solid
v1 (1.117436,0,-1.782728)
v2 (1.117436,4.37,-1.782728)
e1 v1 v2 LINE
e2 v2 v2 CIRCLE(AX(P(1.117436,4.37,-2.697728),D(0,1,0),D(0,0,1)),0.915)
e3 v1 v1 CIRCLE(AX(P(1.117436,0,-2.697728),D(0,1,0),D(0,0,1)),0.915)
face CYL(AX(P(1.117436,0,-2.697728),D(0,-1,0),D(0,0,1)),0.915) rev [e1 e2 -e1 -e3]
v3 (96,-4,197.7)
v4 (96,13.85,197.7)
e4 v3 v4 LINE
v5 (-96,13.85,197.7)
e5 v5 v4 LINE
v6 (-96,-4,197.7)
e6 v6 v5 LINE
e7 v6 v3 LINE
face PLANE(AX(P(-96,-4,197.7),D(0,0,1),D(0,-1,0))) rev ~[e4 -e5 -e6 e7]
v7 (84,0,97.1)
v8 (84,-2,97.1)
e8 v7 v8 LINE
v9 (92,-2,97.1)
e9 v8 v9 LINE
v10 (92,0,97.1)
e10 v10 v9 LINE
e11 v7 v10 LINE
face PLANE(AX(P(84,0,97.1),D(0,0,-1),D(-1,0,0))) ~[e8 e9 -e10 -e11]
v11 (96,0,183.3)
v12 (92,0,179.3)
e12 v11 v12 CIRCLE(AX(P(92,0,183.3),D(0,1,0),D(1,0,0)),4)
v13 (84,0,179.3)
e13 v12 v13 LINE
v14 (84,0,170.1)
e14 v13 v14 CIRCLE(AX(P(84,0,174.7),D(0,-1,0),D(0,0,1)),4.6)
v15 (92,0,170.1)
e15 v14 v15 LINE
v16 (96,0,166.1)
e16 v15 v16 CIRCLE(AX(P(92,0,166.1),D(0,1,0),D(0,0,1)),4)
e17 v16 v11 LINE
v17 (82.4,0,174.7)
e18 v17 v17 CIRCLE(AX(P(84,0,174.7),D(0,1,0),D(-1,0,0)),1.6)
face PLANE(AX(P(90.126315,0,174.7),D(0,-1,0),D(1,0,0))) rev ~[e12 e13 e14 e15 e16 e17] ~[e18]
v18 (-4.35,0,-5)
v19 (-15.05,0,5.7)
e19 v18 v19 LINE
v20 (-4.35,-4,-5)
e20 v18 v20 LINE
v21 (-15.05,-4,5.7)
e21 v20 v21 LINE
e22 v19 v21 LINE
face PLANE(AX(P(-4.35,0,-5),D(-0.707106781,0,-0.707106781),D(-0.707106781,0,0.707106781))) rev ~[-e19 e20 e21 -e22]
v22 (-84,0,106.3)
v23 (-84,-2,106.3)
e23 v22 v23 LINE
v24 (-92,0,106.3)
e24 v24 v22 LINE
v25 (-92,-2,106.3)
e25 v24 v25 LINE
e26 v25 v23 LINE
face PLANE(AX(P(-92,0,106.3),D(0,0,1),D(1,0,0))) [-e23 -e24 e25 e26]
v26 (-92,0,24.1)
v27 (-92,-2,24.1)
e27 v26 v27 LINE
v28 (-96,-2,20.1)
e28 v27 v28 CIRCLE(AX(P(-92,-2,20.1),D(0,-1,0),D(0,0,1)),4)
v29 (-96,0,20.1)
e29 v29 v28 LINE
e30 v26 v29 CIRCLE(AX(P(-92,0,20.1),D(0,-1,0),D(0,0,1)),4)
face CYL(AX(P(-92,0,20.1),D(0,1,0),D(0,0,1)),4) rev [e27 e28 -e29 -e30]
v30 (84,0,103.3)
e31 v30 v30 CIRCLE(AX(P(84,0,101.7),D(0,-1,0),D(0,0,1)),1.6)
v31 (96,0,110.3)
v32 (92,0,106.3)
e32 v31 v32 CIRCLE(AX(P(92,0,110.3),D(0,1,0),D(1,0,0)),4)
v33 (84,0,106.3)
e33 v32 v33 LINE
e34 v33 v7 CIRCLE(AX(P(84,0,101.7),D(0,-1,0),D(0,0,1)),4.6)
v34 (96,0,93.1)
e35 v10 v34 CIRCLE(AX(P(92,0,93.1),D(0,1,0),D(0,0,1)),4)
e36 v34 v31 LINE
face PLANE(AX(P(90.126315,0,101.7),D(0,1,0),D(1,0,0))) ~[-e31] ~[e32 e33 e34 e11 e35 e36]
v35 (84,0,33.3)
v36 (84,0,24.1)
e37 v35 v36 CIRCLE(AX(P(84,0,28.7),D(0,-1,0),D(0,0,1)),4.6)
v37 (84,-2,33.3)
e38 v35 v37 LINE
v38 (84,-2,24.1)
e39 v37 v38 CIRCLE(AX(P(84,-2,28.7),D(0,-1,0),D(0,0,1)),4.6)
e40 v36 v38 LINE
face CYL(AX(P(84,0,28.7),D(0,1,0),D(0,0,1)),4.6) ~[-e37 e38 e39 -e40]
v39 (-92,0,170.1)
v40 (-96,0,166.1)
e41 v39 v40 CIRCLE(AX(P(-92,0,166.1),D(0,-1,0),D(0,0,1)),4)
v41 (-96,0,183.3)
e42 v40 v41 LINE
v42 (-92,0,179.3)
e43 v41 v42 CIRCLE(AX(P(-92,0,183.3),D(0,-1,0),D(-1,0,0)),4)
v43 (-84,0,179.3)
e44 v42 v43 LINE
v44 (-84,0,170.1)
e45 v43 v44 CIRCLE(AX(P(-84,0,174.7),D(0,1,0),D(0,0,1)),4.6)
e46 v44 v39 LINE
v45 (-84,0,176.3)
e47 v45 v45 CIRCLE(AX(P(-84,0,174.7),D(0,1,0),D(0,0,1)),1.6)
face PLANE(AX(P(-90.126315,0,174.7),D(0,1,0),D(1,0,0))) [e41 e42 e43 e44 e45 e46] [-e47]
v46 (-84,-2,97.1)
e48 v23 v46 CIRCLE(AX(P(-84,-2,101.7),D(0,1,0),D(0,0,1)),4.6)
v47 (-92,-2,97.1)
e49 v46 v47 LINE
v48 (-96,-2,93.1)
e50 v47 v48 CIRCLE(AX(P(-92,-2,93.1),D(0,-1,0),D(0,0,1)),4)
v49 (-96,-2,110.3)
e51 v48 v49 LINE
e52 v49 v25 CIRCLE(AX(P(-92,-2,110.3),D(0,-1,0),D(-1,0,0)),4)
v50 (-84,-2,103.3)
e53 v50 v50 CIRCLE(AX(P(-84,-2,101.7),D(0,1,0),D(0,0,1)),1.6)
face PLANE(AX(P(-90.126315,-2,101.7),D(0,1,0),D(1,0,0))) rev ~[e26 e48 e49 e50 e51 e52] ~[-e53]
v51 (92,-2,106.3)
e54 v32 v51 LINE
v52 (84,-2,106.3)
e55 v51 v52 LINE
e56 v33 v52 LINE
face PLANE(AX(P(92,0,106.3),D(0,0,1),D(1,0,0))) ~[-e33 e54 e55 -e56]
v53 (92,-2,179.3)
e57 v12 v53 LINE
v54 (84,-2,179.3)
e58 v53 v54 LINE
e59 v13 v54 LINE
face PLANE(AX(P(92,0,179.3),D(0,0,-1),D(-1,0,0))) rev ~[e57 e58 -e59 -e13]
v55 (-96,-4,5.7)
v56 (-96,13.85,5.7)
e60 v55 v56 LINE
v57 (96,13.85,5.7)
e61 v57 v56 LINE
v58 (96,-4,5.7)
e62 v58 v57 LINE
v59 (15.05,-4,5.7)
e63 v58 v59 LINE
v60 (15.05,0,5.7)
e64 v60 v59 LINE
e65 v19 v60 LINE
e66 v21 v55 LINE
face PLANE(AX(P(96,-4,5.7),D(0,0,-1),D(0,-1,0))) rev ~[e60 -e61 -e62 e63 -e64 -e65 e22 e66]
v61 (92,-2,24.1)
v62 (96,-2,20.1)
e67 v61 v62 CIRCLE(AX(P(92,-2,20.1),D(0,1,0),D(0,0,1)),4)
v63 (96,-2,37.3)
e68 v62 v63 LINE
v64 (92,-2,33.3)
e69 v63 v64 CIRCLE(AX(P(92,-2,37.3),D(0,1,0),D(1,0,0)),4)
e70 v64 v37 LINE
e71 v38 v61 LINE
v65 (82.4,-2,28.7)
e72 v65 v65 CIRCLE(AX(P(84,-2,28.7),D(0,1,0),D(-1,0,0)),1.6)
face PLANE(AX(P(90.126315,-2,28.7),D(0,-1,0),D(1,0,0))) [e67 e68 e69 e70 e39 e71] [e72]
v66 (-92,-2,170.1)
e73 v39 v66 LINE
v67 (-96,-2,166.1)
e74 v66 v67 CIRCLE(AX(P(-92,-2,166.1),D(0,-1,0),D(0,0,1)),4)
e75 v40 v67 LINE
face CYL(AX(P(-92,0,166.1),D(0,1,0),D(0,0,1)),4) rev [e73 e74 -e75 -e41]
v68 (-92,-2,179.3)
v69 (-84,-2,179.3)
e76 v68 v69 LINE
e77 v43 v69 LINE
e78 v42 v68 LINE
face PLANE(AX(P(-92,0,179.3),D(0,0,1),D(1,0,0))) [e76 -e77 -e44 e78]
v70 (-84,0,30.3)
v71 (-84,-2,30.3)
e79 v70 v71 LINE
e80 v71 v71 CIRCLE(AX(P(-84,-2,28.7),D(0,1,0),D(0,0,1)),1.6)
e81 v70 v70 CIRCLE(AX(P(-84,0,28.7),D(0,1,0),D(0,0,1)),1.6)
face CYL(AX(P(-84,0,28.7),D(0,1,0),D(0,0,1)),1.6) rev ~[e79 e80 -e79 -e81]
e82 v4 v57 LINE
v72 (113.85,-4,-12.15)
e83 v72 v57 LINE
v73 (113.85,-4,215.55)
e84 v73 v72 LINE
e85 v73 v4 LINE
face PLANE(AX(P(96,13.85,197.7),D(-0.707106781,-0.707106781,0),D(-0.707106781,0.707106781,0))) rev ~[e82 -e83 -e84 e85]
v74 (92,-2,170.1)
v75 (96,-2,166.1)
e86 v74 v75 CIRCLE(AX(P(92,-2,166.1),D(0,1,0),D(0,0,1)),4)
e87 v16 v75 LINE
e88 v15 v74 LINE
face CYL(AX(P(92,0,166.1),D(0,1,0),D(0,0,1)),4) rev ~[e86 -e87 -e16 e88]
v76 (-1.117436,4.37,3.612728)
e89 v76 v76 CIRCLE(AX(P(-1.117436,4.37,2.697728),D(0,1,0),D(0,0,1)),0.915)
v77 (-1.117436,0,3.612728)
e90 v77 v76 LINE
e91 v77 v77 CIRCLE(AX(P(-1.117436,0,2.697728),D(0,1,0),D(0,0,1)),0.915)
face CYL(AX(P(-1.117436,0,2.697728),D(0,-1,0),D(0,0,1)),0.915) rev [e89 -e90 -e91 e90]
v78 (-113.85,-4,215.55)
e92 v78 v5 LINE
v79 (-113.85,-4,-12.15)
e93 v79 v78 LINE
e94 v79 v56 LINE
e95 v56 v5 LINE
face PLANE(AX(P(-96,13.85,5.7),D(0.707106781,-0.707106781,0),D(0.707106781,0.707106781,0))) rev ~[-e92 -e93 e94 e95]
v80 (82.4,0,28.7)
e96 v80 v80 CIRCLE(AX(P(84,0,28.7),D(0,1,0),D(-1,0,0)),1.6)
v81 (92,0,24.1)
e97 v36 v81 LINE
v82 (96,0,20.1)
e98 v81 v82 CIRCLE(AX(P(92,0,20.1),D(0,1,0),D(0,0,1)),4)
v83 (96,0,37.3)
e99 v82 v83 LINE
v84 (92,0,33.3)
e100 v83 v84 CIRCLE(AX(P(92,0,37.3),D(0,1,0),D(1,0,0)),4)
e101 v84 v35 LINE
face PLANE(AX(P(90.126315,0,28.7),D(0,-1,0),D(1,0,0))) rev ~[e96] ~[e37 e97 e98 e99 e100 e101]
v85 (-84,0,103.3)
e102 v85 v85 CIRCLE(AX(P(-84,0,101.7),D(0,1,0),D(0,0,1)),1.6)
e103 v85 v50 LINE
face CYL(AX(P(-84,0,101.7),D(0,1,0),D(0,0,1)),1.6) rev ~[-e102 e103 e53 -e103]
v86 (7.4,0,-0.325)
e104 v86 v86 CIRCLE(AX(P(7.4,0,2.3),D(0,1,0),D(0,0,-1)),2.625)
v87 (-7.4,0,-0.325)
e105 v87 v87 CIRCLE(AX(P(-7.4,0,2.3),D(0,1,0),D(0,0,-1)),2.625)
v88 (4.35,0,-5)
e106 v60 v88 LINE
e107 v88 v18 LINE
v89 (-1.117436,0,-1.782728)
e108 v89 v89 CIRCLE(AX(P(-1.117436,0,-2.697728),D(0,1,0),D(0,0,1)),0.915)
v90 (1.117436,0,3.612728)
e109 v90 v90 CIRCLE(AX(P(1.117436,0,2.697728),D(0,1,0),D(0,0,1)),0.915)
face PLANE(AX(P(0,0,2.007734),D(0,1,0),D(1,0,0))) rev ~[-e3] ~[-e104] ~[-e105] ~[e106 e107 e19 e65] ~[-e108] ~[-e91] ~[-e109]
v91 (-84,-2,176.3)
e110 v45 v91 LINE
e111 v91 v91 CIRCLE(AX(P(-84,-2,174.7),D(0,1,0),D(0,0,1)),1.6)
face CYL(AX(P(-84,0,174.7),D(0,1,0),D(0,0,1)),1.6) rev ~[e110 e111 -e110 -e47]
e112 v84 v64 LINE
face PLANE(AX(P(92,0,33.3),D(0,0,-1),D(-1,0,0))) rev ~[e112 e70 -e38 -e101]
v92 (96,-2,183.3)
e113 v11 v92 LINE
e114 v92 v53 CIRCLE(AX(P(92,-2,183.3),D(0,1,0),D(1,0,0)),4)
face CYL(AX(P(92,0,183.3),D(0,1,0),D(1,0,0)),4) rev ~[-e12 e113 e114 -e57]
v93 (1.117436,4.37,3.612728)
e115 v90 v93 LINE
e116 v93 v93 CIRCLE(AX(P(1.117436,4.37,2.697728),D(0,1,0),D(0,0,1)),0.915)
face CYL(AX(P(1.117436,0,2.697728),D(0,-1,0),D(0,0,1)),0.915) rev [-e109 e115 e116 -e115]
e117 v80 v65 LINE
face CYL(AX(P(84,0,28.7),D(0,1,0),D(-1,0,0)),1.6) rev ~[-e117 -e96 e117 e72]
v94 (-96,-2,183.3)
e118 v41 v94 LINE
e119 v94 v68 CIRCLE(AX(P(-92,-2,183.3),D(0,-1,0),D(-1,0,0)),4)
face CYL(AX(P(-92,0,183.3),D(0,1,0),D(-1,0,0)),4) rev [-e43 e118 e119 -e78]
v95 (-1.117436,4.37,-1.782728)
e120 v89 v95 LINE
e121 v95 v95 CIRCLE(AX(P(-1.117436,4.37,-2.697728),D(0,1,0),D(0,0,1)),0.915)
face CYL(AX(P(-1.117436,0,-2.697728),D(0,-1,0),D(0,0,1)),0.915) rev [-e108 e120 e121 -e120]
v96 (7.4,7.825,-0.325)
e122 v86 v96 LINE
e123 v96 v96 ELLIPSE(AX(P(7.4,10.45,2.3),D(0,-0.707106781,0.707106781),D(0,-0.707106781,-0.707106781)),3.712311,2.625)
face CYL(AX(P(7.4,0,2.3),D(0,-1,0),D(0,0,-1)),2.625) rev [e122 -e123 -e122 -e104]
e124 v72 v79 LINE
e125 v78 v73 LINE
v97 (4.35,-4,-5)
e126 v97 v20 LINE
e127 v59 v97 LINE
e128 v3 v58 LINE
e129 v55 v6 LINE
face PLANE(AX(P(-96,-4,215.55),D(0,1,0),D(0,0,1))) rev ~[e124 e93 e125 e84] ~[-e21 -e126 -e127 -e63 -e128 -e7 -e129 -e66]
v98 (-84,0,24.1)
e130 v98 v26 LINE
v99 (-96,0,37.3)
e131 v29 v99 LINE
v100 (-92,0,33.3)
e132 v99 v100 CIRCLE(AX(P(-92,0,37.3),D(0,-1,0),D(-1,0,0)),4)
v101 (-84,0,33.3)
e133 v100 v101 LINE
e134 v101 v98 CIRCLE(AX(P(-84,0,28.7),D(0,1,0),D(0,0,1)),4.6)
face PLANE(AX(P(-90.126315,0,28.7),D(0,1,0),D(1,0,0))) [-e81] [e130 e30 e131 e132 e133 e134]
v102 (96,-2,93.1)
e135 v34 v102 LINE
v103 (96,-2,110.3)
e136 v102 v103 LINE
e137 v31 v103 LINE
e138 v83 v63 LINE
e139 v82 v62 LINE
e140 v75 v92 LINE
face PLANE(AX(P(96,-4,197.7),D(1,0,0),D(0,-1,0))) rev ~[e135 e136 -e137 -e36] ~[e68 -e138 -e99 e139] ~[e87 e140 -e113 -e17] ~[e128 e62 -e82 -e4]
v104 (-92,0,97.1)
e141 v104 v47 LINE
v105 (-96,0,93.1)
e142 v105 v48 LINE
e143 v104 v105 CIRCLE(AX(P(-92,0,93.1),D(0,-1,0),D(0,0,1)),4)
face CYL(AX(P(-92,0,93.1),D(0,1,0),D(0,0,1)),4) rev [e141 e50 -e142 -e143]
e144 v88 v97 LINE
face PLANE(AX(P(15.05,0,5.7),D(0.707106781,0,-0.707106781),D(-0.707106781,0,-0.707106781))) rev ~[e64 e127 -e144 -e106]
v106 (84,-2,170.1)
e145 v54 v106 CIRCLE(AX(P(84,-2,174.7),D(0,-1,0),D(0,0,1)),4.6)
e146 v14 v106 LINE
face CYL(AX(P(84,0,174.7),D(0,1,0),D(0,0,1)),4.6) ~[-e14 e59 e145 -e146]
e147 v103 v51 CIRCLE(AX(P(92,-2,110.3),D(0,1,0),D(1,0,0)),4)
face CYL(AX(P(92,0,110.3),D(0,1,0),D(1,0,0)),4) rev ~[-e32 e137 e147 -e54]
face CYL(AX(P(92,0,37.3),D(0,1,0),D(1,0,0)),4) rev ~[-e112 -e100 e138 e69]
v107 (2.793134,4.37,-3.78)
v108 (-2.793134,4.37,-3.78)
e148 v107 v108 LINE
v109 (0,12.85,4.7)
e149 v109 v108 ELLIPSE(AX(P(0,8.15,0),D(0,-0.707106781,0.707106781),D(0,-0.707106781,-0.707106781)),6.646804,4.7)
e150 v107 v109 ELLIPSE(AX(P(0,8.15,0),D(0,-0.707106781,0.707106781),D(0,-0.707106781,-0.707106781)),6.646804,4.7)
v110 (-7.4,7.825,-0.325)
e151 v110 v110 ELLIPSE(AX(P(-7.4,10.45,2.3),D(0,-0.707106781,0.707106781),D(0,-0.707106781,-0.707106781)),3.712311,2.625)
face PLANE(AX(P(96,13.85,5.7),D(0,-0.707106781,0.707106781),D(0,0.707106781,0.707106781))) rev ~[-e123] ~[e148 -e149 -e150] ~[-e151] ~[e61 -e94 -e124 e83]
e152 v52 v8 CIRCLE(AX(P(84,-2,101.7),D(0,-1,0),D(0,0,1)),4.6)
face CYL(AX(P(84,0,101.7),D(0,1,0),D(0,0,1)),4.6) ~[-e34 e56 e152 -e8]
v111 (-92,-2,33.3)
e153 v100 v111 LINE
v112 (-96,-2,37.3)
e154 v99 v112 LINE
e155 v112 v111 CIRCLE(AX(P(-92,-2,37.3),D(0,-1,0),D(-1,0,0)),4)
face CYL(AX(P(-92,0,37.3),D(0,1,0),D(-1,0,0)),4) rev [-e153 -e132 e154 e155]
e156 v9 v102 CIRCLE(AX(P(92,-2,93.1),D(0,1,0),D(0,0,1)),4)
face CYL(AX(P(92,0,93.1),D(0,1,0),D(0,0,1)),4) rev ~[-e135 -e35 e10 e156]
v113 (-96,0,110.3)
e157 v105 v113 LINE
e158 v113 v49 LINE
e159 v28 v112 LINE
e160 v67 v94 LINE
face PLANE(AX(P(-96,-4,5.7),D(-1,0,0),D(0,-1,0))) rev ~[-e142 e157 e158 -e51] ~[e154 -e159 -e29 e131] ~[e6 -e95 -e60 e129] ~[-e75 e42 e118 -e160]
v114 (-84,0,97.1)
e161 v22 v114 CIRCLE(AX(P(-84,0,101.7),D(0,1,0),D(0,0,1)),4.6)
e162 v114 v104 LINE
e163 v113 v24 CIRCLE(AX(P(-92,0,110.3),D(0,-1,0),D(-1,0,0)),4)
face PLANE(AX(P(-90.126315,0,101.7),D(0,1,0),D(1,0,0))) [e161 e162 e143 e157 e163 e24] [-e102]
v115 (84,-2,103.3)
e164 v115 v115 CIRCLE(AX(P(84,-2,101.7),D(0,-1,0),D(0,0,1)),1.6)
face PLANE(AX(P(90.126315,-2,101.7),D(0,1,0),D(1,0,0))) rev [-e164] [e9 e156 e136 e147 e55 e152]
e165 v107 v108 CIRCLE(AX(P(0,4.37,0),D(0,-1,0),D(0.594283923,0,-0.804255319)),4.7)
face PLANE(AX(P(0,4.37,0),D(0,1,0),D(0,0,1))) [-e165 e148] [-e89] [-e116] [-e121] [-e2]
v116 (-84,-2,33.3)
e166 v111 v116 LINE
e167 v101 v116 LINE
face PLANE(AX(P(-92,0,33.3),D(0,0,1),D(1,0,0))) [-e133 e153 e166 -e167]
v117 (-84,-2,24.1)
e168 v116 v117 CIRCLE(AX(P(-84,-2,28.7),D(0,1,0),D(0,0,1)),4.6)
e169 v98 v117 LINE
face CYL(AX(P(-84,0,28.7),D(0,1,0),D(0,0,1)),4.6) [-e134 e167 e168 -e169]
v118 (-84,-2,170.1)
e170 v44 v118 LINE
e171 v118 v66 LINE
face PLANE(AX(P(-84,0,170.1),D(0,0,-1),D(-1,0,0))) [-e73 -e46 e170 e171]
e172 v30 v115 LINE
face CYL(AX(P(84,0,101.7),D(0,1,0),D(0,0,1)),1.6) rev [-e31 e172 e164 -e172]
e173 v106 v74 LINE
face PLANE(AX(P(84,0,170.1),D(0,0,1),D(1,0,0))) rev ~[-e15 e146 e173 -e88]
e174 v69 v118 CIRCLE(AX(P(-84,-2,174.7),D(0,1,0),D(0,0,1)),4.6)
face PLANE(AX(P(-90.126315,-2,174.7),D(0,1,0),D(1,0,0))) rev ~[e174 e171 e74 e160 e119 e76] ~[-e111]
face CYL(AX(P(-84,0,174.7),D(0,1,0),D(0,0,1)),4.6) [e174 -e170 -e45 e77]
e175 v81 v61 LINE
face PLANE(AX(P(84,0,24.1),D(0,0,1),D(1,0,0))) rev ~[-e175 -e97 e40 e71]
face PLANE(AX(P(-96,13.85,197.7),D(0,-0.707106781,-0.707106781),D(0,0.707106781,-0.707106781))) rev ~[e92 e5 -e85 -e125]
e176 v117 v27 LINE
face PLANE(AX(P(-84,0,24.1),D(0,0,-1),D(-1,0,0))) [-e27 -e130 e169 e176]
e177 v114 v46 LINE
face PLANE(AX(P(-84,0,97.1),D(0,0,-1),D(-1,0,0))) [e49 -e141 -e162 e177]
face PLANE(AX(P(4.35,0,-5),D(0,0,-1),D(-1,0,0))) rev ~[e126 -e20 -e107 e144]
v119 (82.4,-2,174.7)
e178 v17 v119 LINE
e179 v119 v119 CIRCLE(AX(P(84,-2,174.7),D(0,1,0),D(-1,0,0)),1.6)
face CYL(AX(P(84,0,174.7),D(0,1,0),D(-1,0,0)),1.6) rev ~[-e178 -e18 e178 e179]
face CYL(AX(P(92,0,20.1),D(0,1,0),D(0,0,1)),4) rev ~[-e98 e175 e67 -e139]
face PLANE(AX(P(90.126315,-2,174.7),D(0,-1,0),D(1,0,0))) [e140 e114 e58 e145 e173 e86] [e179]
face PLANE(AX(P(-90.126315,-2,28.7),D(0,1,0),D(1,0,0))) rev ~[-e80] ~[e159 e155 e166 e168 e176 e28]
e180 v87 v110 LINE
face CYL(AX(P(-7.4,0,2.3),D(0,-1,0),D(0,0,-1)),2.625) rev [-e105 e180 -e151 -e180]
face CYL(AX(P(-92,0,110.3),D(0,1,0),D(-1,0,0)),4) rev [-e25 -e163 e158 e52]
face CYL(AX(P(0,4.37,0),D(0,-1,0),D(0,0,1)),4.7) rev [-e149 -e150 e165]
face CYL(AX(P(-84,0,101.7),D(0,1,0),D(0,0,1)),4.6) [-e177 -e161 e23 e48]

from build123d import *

# Parameters (mm, degrees)
SKETCH1_R               = 0.915
BOSS_EXTRUDE1_DEPTH     = 4.37
BOSS_EXTRUDE1_2_DEPTH   = 4.37
BOSS_EXTRUDE1_3_DEPTH   = 4.37
BOSS_EXTRUDE1_4_DEPTH   = 4.37
BOSS_EXTRUDE2_START     = 4.37
SKETCH1_3_R             = 4.7
SKETCH1_3_R_2           = 0.915
BOSS_EXTRUDE2_DEPTH     = 15
CUT_EXTRUDE1_DEPTH      = 245.162747978
SKETCH1_6_R             = 2.625
SKETCH1_6_R_2           = 0.75
CUT_EXTRUDE4_DEPTH      = 245.162747978
SKETCH5_R               = 1.6
BOSS_EXTRUDE4_DEPTH     = 2
LPATTERN1_COUNT         = 2
LPATTERN1_PITCH         = 73
LPATTERN1_COL_COUNT     = 2
LPATTERN1_COL_PITCH     = 73
MIRROR1_COPY_1_SKETCH_R = 1.6
MIRROR1_COPY_1_DEPTH    = 2
MIRROR1_COPY_2_SKETCH_R = 1.6
MIRROR1_COPY_2_DEPTH    = 2


with BuildPart() as part:
    # Sketch1 → Boss-Extrude1 (new body)
    with BuildSketch(Plane(origin=(0, 0, 0), x_dir=(1, 0, 0), z_dir=(0, 1, 0))):
        with Locations(Location((-1.117435623, 2.697728235, 0), (0, 0, 270))):
            Circle(SKETCH1_R)
    extrude(amount=BOSS_EXTRUDE1_DEPTH)



with BuildPart() as body_2:
    # Sketch1 → Boss-Extrude1 2 (new body)
    with BuildSketch(Plane(origin=(0, 0, 0), x_dir=(1, 0, 0), z_dir=(0, 1, 0))):
        with Locations(Location((-1.117435623, -2.697728235, 0), (0, 0, 270))):
            Circle(SKETCH1_R)
    extrude(amount=BOSS_EXTRUDE1_2_DEPTH)


with BuildPart() as body_3:
    # Sketch1 → Boss-Extrude1 3 (new body)
    with BuildSketch(Plane(origin=(0, 0, 0), x_dir=(1, 0, 0), z_dir=(0, 1, 0))):
        with Locations(Location((1.117435623, 2.697728235, 0), (0, 0, 270))):
            Circle(SKETCH1_R)
    extrude(amount=BOSS_EXTRUDE1_3_DEPTH)


with BuildPart() as body_4:
    # Sketch1 → Boss-Extrude1 4 (new body)
    with BuildSketch(Plane(origin=(0, 0, 0), x_dir=(1, 0, 0), z_dir=(0, 1, 0))):
        with Locations(Location((1.117435623, -2.697728235, 0), (0, 0, 270))):
            Circle(SKETCH1_R)
    extrude(amount=BOSS_EXTRUDE1_4_DEPTH)


with BuildPart() as part_1:
    add(part.part)

    add(body_2.part)  # Boss-Extrude2 merges body 2

    add(body_3.part)  # Boss-Extrude2 merges body 3

    add(body_4.part)  # Boss-Extrude2 merges body 4
    # Sketch1<3> → Boss-Extrude2 (add)
    # profile 1 of 5: a face of its own
    with BuildSketch(Plane(origin=(0, 0, 0), x_dir=(1, 0, 0), z_dir=(0, 1, 0)).offset(BOSS_EXTRUDE2_START)):
        with Locations(Location((0, 0, 0), (0, 0, 270))):
            Circle(SKETCH1_3_R)
        with Locations(Location((-1.117435623, -2.697728235, 0), (0, 0, 270))):
            Circle(SKETCH1_3_R_2, mode=Mode.SUBTRACT)
        with Locations(Location((1.117435623, -2.697728235, 0), (0, 0, 270))):
            Circle(SKETCH1_3_R_2, mode=Mode.SUBTRACT)
        with Locations(Location((1.117435623, 2.697728235, 0), (0, 0, 270))):
            Circle(SKETCH1_3_R_2, mode=Mode.SUBTRACT)
        with Locations(Location((-1.117435623, 2.697728235, 0), (0, 0, 270))):
            Circle(SKETCH1_3_R_2, mode=Mode.SUBTRACT)
    # profile 2 of 5: a face of its own
    with BuildSketch(Plane(origin=(0, 0, 0), x_dir=(1, 0, 0), z_dir=(0, 1, 0)).offset(BOSS_EXTRUDE2_START)):
        with Locations(Location((-1.117435623, -2.697728235, 0), (0, 0, 270))):
            Circle(SKETCH1_3_R_2)
    # profile 3 of 5: a face of its own
    with BuildSketch(Plane(origin=(0, 0, 0), x_dir=(1, 0, 0), z_dir=(0, 1, 0)).offset(BOSS_EXTRUDE2_START)):
        with Locations(Location((1.117435623, -2.697728235, 0), (0, 0, 270))):
            Circle(SKETCH1_3_R_2)
    # profile 4 of 5: a face of its own
    with BuildSketch(Plane(origin=(0, 0, 0), x_dir=(1, 0, 0), z_dir=(0, 1, 0)).offset(BOSS_EXTRUDE2_START)):
        with Locations(Location((1.117435623, 2.697728235, 0), (0, 0, 270))):
            Circle(SKETCH1_3_R_2)
    # profile 5 of 5: a face of its own
    with BuildSketch(Plane(origin=(0, 0, 0), x_dir=(1, 0, 0), z_dir=(0, 1, 0)).offset(BOSS_EXTRUDE2_START)):
        with Locations(Location((-1.117435623, 2.697728235, 0), (0, 0, 270))):
            Circle(SKETCH1_3_R_2)
    extrude(amount=BOSS_EXTRUDE2_DEPTH)


with BuildPart() as body_2_2:
    # Sweep1: sweep along a path in Sketch4
    with BuildLine(Plane(origin=(0, 0, 0), x_dir=(1, 0, 0), z_dir=(0, 1, 0))) as sweep1_path:
        Line((-96, -197.7), (96, -197.7))
        Line((96, -197.7), (96, -5.7))
        Line((96, -5.7), (-96, -5.7))
        Line((-96, -5.7), (-96, -197.7))
    # Sketch2 → Sweep1 (sweep)
    with BuildSketch(Plane(origin=(0, 0, 0), x_dir=(0, 0, -1), z_dir=(1, 0, 0))):
        Polygon((-5.7, -4), (-5.7, 13.85), (12.15, -4), align=None)
    sweep(path=sweep1_path.line, transition=Transition.RIGHT)

    # Combine2: cut part
    add(part_1.part, mode=Mode.SUBTRACT)

    # Sketch3 → Cut-Extrude1 (cut, through all)
    with BuildSketch(Plane(origin=(0, 0, 0), x_dir=(1, 0, 0), z_dir=(0, 1, 0))):
        Polygon((-15.05, -5.7), (15.05, -5.7), (4.35, 5), (-4.35, 5), align=None)
    extrude(amount=-CUT_EXTRUDE1_DEPTH, mode=Mode.SUBTRACT)

    # Sketch1<6> → Cut-Extrude4 (cut, through all)
    # profile 1 of 4: a face of its own
    with BuildSketch(Plane(origin=(0, 0, 0), x_dir=(1, 0, 0), z_dir=(0, 1, 0))):
        with Locations(Location((-7.4, -2.3, 0), (0, 0, 90))):
            Circle(SKETCH1_6_R)
    # profile 2 of 4: a face of its own
    with BuildSketch(Plane(origin=(0, 0, 0), x_dir=(1, 0, 0), z_dir=(0, 1, 0))):
        with Locations(Location((7.4, -2.3, 0), (0, 0, 90))):
            Circle(SKETCH1_6_R)
        with Locations((8.9, -2.3)):
            Circle(SKETCH1_6_R_2, mode=Mode.SUBTRACT)
        with Locations((5.9, -2.3)):
            Circle(SKETCH1_6_R_2, mode=Mode.SUBTRACT)
    # profile 3 of 4: a face of its own
    with BuildSketch(Plane(origin=(0, 0, 0), x_dir=(1, 0, 0), z_dir=(0, 1, 0))):
        with Locations((5.9, -2.3)):
            Circle(SKETCH1_6_R_2)
    # profile 4 of 4: a face of its own
    with BuildSketch(Plane(origin=(0, 0, 0), x_dir=(1, 0, 0), z_dir=(0, 1, 0))):
        with Locations((8.9, -2.3)):
            Circle(SKETCH1_6_R_2)
    extrude(amount=CUT_EXTRUDE4_DEPTH, mode=Mode.SUBTRACT)

    # Sketch5 → Boss-Extrude4 (add)
    with BuildSketch(Plane(origin=(0, 0, 0), x_dir=(1, 0, 0), z_dir=(0, 1, 0))):
        with BuildLine():
            ThreePointArc((-84, -106.3), (-79.4, -101.7), (-84, -97.1))
            Line((-84, -97.1), (-92, -97.1))
            ThreePointArc((-92, -97.1), (-94.828427125, -95.928427125), (-96, -93.1))
            Line((-96, -93.1), (-96, -110.3))
            ThreePointArc((-96, -110.3), (-94.828427125, -107.471572875), (-92, -106.3))
            Line((-92, -106.3), (-84, -106.3))
        make_face()
        with Locations(Location((-84, -101.7, 0), (0, 0, 270))):
            Circle(SKETCH5_R, mode=Mode.SUBTRACT)
    boss_extrude4 = extrude(amount=-BOSS_EXTRUDE4_DEPTH)

    # LPattern1: Boss-Extrude4 ×2
    with Locations(*[(0, 0, -i * LPATTERN1_PITCH) for i in range(1, LPATTERN1_COUNT)]):
        add(boss_extrude4)

    # LPattern1 col: Boss-Extrude4 ×2
    with Locations(*[(0, 0, i * LPATTERN1_COL_PITCH) for i in range(1, LPATTERN1_COL_COUNT)]):
        add(boss_extrude4)

    # Mirror1: Boss-Extrude4 across plane
    add(boss_extrude4.mirror(Plane(origin=(0, 0, 0), x_dir=(0, 0, 1), z_dir=(1, 0, 0))))

    # Mirror1 copy 1 sketch → Mirror1 copy 1 (add)
    with BuildSketch(Plane(origin=(0, 0, -73), x_dir=(-1, 0, 0), z_dir=(0, 1, 0))):
        with BuildLine():
            ThreePointArc((-84, 106.3), (-79.4, 101.7), (-84, 97.1))
            Line((-84, 97.1), (-92, 97.1))
            ThreePointArc((-92, 97.1), (-94.828427125, 95.928427125), (-96, 93.1))
            Line((-96, 93.1), (-96, 110.3))
            ThreePointArc((-96, 110.3), (-94.828427125, 107.471572875), (-92, 106.3))
            Line((-92, 106.3), (-84, 106.3))
        make_face()
        with Locations((-84, 101.7)):
            Circle(MIRROR1_COPY_1_SKETCH_R, mode=Mode.SUBTRACT)
    extrude(amount=-MIRROR1_COPY_1_DEPTH)

    # Mirror1 copy 2 sketch → Mirror1 copy 2 (add)
    with BuildSketch(Plane(origin=(0, 0, 73), x_dir=(-1, 0, 0), z_dir=(0, 1, 0))):
        with BuildLine():
            ThreePointArc((-84, 106.3), (-79.4, 101.7), (-84, 97.1))
            Line((-84, 97.1), (-92, 97.1))
            ThreePointArc((-92, 97.1), (-94.828427125, 95.928427125), (-96, 93.1))
            Line((-96, 93.1), (-96, 110.3))
            ThreePointArc((-96, 110.3), (-94.828427125, 107.471572875), (-92, 106.3))
            Line((-92, 106.3), (-84, 106.3))
        make_face()
        with Locations((-84, 101.7)):
            Circle(MIRROR1_COPY_2_SKETCH_R, mode=Mode.SUBTRACT)
    extrude(amount=-MIRROR1_COPY_2_DEPTH)


solid = body_2_2.part
